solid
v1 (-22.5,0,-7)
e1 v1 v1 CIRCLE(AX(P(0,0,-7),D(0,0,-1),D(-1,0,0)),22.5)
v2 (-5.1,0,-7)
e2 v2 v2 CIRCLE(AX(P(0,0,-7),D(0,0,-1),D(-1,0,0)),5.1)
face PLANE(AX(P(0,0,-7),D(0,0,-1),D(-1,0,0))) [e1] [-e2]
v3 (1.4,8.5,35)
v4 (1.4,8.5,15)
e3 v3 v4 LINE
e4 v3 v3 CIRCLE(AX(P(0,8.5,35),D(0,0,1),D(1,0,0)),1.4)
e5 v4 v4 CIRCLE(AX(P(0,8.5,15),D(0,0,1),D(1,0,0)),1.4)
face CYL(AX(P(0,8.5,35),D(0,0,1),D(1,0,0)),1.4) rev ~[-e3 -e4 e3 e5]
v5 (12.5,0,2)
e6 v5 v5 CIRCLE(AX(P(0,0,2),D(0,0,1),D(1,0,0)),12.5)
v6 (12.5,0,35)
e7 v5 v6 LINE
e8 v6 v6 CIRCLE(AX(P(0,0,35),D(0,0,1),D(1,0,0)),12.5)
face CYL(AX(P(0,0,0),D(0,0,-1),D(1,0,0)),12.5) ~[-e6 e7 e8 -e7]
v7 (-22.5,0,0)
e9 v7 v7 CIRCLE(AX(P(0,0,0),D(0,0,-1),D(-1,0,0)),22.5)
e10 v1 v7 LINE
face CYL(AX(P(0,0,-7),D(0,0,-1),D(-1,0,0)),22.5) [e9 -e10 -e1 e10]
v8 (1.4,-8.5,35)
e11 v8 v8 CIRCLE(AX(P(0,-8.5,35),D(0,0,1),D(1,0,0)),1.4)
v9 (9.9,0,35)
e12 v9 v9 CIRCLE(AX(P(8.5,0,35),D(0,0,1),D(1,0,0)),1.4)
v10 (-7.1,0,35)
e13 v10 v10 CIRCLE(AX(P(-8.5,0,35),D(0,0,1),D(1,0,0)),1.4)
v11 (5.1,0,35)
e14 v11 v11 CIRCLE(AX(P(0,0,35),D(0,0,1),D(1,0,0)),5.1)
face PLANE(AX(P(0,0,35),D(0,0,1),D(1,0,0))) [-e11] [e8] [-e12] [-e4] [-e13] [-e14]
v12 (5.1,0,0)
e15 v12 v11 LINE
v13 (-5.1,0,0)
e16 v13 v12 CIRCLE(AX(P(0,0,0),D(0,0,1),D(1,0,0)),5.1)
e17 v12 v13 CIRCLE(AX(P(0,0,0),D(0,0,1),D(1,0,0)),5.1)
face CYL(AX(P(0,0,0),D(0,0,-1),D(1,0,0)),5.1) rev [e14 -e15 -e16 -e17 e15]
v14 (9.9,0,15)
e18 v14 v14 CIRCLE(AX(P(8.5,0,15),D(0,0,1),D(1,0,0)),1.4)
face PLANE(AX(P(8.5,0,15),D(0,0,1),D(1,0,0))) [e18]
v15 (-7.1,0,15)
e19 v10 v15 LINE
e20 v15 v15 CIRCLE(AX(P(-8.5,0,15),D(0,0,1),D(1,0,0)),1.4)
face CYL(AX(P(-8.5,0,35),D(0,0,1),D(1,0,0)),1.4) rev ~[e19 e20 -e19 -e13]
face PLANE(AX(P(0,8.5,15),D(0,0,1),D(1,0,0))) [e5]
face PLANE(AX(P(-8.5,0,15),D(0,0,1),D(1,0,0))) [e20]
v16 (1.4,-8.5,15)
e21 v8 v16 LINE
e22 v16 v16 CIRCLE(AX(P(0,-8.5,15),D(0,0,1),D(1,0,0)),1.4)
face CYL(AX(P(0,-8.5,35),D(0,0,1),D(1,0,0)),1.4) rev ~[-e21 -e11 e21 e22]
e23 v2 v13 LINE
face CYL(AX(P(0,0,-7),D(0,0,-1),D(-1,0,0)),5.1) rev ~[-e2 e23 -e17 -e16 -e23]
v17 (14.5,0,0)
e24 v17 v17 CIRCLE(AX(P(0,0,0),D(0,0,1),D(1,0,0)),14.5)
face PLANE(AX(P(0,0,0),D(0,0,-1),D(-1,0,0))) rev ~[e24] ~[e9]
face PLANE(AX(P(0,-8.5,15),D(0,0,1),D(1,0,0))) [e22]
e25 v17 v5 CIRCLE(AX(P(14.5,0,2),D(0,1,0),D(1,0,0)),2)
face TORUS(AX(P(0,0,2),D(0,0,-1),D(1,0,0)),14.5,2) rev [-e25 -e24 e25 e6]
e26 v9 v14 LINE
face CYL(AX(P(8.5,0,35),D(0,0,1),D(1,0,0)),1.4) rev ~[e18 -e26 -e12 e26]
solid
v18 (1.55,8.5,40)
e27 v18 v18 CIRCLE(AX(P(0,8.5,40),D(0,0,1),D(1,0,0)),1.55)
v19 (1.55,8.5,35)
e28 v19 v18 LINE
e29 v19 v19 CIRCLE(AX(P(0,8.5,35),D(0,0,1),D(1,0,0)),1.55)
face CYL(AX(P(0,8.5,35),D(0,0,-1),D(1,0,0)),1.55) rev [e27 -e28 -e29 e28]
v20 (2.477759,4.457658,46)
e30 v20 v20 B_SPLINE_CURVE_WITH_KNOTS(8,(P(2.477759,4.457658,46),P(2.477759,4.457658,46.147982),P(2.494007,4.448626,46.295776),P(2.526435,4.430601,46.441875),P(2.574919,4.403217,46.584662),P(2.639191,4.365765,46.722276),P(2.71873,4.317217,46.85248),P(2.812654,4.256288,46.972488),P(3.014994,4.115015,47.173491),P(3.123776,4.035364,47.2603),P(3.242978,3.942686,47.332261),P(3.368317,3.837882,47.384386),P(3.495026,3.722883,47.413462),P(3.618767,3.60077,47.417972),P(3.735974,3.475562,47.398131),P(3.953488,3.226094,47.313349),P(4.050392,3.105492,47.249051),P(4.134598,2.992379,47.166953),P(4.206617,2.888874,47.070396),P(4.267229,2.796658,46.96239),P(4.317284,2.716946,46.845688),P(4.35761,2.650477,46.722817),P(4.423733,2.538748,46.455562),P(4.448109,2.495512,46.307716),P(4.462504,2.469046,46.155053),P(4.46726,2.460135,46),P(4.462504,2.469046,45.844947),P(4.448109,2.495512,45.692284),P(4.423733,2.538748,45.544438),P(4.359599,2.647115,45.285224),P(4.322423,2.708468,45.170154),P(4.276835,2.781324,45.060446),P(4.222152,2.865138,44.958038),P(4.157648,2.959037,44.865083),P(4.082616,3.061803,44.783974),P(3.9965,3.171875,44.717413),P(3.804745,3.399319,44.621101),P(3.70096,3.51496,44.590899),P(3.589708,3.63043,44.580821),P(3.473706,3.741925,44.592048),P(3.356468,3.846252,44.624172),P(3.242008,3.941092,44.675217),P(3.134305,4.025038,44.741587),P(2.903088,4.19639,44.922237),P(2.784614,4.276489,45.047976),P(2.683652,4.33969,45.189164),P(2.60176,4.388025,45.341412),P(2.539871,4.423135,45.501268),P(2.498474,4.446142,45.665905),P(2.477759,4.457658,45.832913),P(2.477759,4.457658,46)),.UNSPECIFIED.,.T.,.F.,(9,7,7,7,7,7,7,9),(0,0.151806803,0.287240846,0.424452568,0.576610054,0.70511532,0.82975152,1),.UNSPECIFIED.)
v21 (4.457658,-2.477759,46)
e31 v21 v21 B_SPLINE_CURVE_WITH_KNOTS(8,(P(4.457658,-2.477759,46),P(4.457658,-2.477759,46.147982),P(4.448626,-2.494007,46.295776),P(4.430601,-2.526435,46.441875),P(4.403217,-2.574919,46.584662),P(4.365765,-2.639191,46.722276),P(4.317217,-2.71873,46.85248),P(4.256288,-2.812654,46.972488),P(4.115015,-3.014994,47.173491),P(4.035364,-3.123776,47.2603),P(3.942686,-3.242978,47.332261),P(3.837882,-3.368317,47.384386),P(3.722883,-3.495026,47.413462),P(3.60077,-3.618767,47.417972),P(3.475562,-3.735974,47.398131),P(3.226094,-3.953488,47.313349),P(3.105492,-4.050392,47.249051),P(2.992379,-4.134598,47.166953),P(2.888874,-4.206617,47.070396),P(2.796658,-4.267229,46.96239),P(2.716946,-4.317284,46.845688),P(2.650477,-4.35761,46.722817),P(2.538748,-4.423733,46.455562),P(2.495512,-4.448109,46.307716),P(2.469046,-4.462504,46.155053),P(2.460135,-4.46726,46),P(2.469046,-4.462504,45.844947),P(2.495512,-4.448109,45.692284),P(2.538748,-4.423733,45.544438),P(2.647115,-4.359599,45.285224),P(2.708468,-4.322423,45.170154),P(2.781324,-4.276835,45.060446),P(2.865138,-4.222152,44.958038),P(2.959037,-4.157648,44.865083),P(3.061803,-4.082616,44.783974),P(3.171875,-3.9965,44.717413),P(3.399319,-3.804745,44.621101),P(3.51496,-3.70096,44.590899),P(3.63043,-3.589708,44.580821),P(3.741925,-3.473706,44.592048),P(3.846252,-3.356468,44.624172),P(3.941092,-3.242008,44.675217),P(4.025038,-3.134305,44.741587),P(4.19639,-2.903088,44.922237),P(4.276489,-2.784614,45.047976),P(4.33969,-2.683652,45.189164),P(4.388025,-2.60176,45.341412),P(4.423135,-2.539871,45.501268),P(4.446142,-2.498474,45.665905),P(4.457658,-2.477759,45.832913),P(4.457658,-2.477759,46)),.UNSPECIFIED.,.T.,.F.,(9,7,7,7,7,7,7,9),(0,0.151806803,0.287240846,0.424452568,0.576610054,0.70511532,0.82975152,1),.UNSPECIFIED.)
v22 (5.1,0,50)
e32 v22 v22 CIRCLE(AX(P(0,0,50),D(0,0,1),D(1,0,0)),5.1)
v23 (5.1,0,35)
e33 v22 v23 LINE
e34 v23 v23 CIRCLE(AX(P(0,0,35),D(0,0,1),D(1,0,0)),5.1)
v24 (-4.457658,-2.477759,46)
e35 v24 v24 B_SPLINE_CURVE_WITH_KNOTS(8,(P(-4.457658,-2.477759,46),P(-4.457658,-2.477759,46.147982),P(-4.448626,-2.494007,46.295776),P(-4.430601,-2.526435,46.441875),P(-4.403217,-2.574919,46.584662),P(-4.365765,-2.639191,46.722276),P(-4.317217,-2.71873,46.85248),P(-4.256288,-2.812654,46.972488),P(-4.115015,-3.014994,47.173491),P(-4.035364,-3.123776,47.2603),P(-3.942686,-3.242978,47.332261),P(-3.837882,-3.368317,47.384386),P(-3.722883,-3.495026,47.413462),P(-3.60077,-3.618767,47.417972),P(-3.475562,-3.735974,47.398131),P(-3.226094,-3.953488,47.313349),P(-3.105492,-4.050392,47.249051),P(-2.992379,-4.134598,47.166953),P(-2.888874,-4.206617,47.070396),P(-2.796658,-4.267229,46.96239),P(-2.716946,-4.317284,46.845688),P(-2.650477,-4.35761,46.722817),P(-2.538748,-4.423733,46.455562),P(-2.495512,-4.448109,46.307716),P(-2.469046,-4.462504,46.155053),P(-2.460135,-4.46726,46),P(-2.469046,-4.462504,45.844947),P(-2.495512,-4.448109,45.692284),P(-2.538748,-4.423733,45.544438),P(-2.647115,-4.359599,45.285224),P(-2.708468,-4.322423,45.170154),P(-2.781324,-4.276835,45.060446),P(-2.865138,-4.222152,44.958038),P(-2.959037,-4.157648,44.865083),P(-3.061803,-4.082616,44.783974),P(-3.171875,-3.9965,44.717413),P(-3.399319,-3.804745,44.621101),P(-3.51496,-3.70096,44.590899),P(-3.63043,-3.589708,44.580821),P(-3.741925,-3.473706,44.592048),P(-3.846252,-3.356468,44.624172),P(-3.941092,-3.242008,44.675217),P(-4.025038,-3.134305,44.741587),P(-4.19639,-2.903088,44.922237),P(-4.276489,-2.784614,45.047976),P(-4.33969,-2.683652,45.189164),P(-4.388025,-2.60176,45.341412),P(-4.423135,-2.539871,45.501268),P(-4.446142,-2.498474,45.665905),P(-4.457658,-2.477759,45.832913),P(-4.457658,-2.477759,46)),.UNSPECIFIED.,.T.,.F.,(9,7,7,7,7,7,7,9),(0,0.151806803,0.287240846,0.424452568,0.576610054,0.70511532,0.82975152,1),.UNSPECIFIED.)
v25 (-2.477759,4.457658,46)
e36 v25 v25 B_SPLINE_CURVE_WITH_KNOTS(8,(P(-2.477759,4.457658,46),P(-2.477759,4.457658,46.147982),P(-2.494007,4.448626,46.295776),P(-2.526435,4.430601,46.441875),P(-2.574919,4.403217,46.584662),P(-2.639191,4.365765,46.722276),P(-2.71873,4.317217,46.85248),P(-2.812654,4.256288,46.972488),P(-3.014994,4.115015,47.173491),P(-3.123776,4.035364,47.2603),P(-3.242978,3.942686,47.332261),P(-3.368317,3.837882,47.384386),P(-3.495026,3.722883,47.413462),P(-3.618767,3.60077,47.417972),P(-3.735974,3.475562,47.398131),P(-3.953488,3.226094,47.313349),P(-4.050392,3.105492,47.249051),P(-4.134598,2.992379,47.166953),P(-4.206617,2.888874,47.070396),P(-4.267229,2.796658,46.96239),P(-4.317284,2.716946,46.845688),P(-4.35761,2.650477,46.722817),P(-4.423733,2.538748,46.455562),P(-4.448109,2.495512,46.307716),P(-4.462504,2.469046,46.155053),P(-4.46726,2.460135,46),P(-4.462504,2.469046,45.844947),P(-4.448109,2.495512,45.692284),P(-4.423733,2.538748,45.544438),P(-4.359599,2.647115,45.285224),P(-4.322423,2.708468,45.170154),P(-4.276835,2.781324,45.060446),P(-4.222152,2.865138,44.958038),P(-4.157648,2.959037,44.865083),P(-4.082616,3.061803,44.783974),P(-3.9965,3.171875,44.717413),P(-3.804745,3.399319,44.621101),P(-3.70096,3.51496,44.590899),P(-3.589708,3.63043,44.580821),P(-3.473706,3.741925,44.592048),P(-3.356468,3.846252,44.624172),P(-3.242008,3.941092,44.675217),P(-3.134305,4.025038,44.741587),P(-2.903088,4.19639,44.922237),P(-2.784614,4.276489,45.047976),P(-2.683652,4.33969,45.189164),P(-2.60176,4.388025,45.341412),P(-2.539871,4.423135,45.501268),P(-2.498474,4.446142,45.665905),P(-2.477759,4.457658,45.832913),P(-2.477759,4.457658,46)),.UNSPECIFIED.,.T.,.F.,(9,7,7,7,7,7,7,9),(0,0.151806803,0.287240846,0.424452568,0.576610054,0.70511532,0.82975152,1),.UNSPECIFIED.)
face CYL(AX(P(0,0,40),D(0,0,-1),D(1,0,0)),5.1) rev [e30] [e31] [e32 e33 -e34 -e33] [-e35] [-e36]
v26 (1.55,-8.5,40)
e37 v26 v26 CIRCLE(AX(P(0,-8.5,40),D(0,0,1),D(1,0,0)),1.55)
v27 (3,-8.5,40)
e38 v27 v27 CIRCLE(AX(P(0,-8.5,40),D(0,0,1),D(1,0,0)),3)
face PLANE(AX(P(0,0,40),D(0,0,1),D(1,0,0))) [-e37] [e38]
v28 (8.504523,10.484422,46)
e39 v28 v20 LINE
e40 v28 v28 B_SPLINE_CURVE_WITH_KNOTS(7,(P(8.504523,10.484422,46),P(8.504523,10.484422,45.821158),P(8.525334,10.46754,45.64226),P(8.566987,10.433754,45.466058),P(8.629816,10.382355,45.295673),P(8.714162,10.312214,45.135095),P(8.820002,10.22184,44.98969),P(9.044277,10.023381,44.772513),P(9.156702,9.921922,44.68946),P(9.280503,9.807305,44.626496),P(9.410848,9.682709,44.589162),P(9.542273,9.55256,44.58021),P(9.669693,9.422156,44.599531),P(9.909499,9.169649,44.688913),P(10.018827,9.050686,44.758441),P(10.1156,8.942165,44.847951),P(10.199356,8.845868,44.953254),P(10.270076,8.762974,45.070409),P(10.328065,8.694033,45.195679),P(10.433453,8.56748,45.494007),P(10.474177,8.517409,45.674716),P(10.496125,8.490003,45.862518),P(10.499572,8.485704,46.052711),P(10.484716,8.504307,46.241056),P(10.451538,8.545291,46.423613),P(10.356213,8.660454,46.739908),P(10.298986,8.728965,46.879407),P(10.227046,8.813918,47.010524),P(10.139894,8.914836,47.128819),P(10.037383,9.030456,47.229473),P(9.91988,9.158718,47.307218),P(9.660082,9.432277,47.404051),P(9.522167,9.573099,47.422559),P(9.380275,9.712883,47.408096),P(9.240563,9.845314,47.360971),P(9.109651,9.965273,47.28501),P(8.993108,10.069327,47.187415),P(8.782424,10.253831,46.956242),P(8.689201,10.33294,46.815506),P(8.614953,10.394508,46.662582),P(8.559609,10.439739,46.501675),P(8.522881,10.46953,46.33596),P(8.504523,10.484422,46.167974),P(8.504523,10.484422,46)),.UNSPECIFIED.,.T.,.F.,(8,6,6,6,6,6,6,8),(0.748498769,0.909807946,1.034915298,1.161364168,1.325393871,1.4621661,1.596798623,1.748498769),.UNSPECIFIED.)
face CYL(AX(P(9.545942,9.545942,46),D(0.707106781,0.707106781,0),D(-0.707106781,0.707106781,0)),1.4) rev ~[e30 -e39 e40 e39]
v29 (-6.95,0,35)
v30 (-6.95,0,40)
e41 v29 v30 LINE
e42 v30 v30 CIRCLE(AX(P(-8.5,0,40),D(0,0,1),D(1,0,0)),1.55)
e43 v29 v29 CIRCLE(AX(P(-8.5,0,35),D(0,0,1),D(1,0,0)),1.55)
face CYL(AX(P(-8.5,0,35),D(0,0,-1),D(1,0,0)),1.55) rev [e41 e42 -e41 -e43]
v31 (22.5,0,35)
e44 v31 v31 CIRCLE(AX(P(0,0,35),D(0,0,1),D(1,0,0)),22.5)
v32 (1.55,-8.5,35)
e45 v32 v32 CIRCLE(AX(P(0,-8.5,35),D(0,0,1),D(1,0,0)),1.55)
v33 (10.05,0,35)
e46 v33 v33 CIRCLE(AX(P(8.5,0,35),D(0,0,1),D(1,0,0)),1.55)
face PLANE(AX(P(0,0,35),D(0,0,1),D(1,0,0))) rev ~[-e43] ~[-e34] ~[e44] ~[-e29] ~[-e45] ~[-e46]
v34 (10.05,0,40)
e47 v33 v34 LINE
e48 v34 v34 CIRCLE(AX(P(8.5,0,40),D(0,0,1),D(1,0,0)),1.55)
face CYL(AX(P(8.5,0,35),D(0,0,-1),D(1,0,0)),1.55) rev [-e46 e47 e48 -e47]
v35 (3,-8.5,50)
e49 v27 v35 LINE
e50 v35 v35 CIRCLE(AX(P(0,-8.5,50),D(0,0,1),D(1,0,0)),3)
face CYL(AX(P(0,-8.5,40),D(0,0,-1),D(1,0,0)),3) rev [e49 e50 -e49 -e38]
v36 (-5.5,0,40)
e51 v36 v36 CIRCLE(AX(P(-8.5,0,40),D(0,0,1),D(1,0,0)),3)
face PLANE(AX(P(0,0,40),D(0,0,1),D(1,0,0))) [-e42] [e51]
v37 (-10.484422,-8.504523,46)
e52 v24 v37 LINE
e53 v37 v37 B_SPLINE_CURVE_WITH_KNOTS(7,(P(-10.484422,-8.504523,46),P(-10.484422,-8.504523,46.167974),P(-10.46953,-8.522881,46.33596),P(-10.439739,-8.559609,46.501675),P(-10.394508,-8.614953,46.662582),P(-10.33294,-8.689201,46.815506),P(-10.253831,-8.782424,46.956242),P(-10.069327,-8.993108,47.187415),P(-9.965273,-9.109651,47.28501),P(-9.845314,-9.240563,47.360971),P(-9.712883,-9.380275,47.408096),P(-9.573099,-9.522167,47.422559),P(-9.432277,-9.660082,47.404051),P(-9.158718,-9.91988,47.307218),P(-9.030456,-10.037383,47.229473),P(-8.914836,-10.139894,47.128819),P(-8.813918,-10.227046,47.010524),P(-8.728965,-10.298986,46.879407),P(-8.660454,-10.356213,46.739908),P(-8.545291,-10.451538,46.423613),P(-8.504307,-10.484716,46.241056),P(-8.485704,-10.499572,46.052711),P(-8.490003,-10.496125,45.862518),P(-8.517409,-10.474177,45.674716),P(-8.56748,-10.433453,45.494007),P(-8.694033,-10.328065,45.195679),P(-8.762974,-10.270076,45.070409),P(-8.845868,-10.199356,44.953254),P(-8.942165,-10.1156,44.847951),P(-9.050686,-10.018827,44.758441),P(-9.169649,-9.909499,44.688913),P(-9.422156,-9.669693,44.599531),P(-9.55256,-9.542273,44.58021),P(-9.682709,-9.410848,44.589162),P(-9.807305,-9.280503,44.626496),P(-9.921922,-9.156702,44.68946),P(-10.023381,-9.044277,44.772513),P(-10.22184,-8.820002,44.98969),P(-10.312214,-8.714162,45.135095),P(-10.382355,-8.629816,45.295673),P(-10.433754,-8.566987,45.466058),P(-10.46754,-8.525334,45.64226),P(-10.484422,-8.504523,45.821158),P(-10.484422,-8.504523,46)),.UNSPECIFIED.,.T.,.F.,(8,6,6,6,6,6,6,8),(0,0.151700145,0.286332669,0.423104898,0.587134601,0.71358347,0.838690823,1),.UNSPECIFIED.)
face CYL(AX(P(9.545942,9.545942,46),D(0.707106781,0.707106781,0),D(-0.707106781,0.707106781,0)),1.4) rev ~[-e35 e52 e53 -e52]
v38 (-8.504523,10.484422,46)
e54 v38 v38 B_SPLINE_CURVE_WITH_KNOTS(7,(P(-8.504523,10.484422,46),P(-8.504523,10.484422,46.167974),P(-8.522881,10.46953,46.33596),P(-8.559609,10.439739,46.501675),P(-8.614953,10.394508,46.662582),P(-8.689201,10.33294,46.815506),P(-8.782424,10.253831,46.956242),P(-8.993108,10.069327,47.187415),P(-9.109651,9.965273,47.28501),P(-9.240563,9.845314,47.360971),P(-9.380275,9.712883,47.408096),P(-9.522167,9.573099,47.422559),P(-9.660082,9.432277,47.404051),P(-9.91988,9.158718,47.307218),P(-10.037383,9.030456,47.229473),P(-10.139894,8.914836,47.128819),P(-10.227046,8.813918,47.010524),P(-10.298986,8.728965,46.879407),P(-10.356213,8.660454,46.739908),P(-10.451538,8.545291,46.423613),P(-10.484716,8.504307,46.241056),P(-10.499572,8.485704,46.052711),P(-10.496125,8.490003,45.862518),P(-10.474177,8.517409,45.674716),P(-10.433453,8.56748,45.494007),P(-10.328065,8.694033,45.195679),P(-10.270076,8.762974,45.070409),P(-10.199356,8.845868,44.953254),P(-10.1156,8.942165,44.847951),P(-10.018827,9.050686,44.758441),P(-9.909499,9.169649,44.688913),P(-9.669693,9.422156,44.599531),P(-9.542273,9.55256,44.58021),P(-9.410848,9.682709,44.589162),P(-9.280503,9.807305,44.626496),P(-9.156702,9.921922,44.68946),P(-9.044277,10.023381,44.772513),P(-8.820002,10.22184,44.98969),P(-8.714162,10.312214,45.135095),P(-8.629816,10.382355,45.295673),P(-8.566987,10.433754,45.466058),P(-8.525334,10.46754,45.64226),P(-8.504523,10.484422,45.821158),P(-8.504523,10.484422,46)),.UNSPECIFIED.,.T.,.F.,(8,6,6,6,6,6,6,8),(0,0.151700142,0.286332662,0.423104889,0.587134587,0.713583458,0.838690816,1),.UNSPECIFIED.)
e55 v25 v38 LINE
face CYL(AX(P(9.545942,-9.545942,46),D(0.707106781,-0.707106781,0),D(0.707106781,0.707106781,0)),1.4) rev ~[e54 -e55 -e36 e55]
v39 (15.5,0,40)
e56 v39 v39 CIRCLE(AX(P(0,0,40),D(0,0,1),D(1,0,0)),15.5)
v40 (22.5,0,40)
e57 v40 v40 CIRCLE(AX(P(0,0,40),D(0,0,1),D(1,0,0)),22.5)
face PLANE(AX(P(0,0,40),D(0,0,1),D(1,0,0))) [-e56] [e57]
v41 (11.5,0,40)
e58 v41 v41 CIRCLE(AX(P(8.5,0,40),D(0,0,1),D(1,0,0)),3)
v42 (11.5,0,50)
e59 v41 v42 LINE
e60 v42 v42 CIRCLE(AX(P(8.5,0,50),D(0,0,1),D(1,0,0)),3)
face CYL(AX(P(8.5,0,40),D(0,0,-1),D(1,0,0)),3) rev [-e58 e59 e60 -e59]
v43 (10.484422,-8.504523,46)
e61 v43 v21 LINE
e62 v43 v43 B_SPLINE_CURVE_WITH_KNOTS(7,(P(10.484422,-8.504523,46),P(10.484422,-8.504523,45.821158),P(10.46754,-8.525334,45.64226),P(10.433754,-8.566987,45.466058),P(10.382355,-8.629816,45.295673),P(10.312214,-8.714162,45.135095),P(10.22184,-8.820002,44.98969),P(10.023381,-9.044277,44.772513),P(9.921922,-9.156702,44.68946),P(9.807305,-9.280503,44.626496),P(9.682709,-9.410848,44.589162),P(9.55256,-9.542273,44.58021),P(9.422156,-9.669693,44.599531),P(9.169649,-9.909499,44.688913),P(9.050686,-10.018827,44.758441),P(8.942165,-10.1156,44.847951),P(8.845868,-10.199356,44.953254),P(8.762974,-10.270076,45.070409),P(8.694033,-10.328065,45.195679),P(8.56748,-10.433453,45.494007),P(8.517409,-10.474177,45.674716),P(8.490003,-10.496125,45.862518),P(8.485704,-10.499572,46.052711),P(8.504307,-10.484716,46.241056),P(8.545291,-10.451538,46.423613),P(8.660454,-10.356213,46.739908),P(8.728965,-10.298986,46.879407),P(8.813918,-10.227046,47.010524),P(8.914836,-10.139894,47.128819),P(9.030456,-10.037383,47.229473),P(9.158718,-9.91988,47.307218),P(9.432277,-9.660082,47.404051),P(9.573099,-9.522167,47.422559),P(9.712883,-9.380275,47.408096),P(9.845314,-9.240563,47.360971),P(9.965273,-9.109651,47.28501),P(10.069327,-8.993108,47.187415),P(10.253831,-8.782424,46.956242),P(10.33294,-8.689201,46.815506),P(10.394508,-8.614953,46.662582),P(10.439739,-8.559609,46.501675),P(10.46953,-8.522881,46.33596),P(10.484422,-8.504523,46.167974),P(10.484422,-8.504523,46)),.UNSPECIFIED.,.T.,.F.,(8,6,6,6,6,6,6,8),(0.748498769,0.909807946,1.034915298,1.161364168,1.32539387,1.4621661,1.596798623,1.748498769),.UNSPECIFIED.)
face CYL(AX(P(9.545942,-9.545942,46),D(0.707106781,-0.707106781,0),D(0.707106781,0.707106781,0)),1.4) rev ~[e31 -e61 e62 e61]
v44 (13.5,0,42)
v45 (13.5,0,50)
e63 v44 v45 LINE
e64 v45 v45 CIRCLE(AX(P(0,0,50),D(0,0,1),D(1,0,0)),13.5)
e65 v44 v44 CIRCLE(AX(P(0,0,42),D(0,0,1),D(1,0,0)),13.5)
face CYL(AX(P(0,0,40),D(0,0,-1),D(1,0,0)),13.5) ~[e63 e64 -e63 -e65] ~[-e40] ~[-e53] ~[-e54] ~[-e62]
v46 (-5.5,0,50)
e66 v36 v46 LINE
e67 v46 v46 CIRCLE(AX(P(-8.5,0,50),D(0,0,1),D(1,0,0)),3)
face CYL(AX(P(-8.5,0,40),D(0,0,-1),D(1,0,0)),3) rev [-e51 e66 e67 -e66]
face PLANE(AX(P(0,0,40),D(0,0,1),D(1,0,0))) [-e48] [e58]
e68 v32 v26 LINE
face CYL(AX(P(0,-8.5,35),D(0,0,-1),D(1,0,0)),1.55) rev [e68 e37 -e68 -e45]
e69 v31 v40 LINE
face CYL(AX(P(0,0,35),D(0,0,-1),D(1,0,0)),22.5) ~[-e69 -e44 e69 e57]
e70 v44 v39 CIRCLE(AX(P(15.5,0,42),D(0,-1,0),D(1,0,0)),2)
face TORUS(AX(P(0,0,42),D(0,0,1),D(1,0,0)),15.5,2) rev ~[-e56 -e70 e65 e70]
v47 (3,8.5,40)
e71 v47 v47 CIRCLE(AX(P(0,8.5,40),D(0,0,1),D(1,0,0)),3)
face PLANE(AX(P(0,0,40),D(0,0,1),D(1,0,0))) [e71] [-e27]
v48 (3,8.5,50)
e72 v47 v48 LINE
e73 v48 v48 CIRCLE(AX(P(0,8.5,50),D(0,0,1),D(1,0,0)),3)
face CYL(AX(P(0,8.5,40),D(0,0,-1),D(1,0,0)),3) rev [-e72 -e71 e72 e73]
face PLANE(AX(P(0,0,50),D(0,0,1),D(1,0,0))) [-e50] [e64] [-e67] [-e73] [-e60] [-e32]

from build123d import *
from build123d.topology import SkipClean

# Parameters (mm, degrees)
SKETCH_1_R               = 12.5
SKETCH_1_R_2             = 5.1
EXTRUDE_1_DEPTH          = 35
EXTRUDE_START            = 7
SKETCH_2_R               = 22.5
SKETCH_2_R_2             = 5.1
EXTRUDE_2_DEPTH          = 7
SKETCH_3_R               = 1.4
CUT_EXTRUDE_1_DEPTH      = 20
FILLET_1_R               = 2
SKETCH_4_R               = 22.5
SKETCH_4_R_2             = 5.1
SKETCH_4_R_3             = 1.55
EXTRUDE_3_DEPTH          = 5
SKETCH_5_R               = 13.5
SKETCH_5_R_2             = 5.1
SKETCH_5_R_3             = 3
EXTRUDE_4_DEPTH          = 10
FILLET_2_R               = 2
SKETCH_6_R               = 1.4
CUT_EXTRUDE_2_DEPTH      = 68.482477275
PATTERN_CIRCULAR_1_COUNT = 2
PATTERN_CIRCULAR_1_ANGLE = 90


with BuildPart() as part:
    # Эскиз1 → Бобышка-Вытянуть1 (new body)
    with BuildSketch(Plane.XY):
        Circle(SKETCH_1_R)
        Circle(SKETCH_1_R_2, mode=Mode.SUBTRACT)
    extrude(amount=EXTRUDE_1_DEPTH)

    # Эскиз2 → Бобышка-Вытянуть2 (add)
    with SkipClean():  # the faces are left unmerged after this step: merging them gives an invalid solid
        with BuildSketch(Plane(origin=(0, 0, 0), x_dir=(-1, 0, 0), z_dir=(0, 0, -1)).offset(EXTRUDE_START)):
            Circle(SKETCH_2_R)
            Circle(SKETCH_2_R_2, mode=Mode.SUBTRACT)
        extrude(amount=-EXTRUDE_2_DEPTH)

    # Эскиз3 → Вырез-Вытянуть1 (cut)
    with SkipClean():  # the faces are left unmerged after this step: merging them gives an invalid solid
        with BuildSketch(Plane.XY.offset(35)):
            with Locations((0, 8.5)):
                Circle(SKETCH_3_R)
            with Locations((8.5, 0)):
                Circle(SKETCH_3_R)
            with Locations((0, -8.5)):
                Circle(SKETCH_3_R)
            with Locations((-8.5, 0)):
                Circle(SKETCH_3_R)
        extrude(amount=-CUT_EXTRUDE_1_DEPTH, mode=Mode.SUBTRACT)

    # Скругление1
    fillet_1_edges = [part.edges().sort_by_distance(p)[0] for p in [
        (-12.5, 0, 0),
    ]]
    fillet(fillet_1_edges, radius=FILLET_1_R)


with BuildPart() as body_2:
    # Эскиз4 → Бобышка-Вытянуть3 (new body)
    with BuildSketch(Plane.XY.offset(35)):
        Circle(SKETCH_4_R)
        Circle(SKETCH_4_R_2, mode=Mode.SUBTRACT)
        with Locations((0, 8.5)):
            Circle(SKETCH_4_R_3, mode=Mode.SUBTRACT)
        with Locations((8.5, 0)):
            Circle(SKETCH_4_R_3, mode=Mode.SUBTRACT)
        with Locations((0, -8.5)):
            Circle(SKETCH_4_R_3, mode=Mode.SUBTRACT)
        with Locations((-8.5, 0)):
            Circle(SKETCH_4_R_3, mode=Mode.SUBTRACT)
    extrude(amount=EXTRUDE_3_DEPTH)

    # Эскиз5 → Бобышка-Вытянуть4 (add)
    with BuildSketch(Plane.XY.offset(40)):
        Circle(SKETCH_5_R)
        Circle(SKETCH_5_R_2, mode=Mode.SUBTRACT)
        with Locations((0, 8.5)):
            Circle(SKETCH_5_R_3, mode=Mode.SUBTRACT)
        with Locations((8.5, 0)):
            Circle(SKETCH_5_R_3, mode=Mode.SUBTRACT)
        with Locations((0, -8.5)):
            Circle(SKETCH_5_R_3, mode=Mode.SUBTRACT)
        with Locations((-8.5, 0)):
            Circle(SKETCH_5_R_3, mode=Mode.SUBTRACT)
    extrude(amount=EXTRUDE_4_DEPTH)

    # Скругление2
    fillet_2_edges = [body_2.edges().sort_by_distance(p)[0] for p in [
        (-13.5, 0, 40),
    ]]
    fillet(fillet_2_edges, radius=FILLET_2_R)

    # Эскиз6 → Вырез-Вытянуть2 (cut, through all)
    with BuildSketch(Plane(origin=(9.545941546, 9.545941546, 0), x_dir=(0, 0, -1), z_dir=(0.7071067811865488, 0.7071067811865464, 0))):
        with Locations(Location((-46, 0, 0), (0, 0, 90))):
            Circle(SKETCH_6_R)
    cut_extrude_2 = extrude(amount=-CUT_EXTRUDE_2_DEPTH, mode=Mode.SUBTRACT)

    # Круговой массив1: Вырез-Вытянуть2 ×2 about axis
    pattern_circular_1_axis = Axis((0, 0, 40), (0, 0, -1))
    for i in range(1, PATTERN_CIRCULAR_1_COUNT):
        add(cut_extrude_2.rotate(pattern_circular_1_axis, i * PATTERN_CIRCULAR_1_ANGLE / (PATTERN_CIRCULAR_1_COUNT - 1)), mode=Mode.SUBTRACT)


solid = Compound([part.part, body_2.part])
